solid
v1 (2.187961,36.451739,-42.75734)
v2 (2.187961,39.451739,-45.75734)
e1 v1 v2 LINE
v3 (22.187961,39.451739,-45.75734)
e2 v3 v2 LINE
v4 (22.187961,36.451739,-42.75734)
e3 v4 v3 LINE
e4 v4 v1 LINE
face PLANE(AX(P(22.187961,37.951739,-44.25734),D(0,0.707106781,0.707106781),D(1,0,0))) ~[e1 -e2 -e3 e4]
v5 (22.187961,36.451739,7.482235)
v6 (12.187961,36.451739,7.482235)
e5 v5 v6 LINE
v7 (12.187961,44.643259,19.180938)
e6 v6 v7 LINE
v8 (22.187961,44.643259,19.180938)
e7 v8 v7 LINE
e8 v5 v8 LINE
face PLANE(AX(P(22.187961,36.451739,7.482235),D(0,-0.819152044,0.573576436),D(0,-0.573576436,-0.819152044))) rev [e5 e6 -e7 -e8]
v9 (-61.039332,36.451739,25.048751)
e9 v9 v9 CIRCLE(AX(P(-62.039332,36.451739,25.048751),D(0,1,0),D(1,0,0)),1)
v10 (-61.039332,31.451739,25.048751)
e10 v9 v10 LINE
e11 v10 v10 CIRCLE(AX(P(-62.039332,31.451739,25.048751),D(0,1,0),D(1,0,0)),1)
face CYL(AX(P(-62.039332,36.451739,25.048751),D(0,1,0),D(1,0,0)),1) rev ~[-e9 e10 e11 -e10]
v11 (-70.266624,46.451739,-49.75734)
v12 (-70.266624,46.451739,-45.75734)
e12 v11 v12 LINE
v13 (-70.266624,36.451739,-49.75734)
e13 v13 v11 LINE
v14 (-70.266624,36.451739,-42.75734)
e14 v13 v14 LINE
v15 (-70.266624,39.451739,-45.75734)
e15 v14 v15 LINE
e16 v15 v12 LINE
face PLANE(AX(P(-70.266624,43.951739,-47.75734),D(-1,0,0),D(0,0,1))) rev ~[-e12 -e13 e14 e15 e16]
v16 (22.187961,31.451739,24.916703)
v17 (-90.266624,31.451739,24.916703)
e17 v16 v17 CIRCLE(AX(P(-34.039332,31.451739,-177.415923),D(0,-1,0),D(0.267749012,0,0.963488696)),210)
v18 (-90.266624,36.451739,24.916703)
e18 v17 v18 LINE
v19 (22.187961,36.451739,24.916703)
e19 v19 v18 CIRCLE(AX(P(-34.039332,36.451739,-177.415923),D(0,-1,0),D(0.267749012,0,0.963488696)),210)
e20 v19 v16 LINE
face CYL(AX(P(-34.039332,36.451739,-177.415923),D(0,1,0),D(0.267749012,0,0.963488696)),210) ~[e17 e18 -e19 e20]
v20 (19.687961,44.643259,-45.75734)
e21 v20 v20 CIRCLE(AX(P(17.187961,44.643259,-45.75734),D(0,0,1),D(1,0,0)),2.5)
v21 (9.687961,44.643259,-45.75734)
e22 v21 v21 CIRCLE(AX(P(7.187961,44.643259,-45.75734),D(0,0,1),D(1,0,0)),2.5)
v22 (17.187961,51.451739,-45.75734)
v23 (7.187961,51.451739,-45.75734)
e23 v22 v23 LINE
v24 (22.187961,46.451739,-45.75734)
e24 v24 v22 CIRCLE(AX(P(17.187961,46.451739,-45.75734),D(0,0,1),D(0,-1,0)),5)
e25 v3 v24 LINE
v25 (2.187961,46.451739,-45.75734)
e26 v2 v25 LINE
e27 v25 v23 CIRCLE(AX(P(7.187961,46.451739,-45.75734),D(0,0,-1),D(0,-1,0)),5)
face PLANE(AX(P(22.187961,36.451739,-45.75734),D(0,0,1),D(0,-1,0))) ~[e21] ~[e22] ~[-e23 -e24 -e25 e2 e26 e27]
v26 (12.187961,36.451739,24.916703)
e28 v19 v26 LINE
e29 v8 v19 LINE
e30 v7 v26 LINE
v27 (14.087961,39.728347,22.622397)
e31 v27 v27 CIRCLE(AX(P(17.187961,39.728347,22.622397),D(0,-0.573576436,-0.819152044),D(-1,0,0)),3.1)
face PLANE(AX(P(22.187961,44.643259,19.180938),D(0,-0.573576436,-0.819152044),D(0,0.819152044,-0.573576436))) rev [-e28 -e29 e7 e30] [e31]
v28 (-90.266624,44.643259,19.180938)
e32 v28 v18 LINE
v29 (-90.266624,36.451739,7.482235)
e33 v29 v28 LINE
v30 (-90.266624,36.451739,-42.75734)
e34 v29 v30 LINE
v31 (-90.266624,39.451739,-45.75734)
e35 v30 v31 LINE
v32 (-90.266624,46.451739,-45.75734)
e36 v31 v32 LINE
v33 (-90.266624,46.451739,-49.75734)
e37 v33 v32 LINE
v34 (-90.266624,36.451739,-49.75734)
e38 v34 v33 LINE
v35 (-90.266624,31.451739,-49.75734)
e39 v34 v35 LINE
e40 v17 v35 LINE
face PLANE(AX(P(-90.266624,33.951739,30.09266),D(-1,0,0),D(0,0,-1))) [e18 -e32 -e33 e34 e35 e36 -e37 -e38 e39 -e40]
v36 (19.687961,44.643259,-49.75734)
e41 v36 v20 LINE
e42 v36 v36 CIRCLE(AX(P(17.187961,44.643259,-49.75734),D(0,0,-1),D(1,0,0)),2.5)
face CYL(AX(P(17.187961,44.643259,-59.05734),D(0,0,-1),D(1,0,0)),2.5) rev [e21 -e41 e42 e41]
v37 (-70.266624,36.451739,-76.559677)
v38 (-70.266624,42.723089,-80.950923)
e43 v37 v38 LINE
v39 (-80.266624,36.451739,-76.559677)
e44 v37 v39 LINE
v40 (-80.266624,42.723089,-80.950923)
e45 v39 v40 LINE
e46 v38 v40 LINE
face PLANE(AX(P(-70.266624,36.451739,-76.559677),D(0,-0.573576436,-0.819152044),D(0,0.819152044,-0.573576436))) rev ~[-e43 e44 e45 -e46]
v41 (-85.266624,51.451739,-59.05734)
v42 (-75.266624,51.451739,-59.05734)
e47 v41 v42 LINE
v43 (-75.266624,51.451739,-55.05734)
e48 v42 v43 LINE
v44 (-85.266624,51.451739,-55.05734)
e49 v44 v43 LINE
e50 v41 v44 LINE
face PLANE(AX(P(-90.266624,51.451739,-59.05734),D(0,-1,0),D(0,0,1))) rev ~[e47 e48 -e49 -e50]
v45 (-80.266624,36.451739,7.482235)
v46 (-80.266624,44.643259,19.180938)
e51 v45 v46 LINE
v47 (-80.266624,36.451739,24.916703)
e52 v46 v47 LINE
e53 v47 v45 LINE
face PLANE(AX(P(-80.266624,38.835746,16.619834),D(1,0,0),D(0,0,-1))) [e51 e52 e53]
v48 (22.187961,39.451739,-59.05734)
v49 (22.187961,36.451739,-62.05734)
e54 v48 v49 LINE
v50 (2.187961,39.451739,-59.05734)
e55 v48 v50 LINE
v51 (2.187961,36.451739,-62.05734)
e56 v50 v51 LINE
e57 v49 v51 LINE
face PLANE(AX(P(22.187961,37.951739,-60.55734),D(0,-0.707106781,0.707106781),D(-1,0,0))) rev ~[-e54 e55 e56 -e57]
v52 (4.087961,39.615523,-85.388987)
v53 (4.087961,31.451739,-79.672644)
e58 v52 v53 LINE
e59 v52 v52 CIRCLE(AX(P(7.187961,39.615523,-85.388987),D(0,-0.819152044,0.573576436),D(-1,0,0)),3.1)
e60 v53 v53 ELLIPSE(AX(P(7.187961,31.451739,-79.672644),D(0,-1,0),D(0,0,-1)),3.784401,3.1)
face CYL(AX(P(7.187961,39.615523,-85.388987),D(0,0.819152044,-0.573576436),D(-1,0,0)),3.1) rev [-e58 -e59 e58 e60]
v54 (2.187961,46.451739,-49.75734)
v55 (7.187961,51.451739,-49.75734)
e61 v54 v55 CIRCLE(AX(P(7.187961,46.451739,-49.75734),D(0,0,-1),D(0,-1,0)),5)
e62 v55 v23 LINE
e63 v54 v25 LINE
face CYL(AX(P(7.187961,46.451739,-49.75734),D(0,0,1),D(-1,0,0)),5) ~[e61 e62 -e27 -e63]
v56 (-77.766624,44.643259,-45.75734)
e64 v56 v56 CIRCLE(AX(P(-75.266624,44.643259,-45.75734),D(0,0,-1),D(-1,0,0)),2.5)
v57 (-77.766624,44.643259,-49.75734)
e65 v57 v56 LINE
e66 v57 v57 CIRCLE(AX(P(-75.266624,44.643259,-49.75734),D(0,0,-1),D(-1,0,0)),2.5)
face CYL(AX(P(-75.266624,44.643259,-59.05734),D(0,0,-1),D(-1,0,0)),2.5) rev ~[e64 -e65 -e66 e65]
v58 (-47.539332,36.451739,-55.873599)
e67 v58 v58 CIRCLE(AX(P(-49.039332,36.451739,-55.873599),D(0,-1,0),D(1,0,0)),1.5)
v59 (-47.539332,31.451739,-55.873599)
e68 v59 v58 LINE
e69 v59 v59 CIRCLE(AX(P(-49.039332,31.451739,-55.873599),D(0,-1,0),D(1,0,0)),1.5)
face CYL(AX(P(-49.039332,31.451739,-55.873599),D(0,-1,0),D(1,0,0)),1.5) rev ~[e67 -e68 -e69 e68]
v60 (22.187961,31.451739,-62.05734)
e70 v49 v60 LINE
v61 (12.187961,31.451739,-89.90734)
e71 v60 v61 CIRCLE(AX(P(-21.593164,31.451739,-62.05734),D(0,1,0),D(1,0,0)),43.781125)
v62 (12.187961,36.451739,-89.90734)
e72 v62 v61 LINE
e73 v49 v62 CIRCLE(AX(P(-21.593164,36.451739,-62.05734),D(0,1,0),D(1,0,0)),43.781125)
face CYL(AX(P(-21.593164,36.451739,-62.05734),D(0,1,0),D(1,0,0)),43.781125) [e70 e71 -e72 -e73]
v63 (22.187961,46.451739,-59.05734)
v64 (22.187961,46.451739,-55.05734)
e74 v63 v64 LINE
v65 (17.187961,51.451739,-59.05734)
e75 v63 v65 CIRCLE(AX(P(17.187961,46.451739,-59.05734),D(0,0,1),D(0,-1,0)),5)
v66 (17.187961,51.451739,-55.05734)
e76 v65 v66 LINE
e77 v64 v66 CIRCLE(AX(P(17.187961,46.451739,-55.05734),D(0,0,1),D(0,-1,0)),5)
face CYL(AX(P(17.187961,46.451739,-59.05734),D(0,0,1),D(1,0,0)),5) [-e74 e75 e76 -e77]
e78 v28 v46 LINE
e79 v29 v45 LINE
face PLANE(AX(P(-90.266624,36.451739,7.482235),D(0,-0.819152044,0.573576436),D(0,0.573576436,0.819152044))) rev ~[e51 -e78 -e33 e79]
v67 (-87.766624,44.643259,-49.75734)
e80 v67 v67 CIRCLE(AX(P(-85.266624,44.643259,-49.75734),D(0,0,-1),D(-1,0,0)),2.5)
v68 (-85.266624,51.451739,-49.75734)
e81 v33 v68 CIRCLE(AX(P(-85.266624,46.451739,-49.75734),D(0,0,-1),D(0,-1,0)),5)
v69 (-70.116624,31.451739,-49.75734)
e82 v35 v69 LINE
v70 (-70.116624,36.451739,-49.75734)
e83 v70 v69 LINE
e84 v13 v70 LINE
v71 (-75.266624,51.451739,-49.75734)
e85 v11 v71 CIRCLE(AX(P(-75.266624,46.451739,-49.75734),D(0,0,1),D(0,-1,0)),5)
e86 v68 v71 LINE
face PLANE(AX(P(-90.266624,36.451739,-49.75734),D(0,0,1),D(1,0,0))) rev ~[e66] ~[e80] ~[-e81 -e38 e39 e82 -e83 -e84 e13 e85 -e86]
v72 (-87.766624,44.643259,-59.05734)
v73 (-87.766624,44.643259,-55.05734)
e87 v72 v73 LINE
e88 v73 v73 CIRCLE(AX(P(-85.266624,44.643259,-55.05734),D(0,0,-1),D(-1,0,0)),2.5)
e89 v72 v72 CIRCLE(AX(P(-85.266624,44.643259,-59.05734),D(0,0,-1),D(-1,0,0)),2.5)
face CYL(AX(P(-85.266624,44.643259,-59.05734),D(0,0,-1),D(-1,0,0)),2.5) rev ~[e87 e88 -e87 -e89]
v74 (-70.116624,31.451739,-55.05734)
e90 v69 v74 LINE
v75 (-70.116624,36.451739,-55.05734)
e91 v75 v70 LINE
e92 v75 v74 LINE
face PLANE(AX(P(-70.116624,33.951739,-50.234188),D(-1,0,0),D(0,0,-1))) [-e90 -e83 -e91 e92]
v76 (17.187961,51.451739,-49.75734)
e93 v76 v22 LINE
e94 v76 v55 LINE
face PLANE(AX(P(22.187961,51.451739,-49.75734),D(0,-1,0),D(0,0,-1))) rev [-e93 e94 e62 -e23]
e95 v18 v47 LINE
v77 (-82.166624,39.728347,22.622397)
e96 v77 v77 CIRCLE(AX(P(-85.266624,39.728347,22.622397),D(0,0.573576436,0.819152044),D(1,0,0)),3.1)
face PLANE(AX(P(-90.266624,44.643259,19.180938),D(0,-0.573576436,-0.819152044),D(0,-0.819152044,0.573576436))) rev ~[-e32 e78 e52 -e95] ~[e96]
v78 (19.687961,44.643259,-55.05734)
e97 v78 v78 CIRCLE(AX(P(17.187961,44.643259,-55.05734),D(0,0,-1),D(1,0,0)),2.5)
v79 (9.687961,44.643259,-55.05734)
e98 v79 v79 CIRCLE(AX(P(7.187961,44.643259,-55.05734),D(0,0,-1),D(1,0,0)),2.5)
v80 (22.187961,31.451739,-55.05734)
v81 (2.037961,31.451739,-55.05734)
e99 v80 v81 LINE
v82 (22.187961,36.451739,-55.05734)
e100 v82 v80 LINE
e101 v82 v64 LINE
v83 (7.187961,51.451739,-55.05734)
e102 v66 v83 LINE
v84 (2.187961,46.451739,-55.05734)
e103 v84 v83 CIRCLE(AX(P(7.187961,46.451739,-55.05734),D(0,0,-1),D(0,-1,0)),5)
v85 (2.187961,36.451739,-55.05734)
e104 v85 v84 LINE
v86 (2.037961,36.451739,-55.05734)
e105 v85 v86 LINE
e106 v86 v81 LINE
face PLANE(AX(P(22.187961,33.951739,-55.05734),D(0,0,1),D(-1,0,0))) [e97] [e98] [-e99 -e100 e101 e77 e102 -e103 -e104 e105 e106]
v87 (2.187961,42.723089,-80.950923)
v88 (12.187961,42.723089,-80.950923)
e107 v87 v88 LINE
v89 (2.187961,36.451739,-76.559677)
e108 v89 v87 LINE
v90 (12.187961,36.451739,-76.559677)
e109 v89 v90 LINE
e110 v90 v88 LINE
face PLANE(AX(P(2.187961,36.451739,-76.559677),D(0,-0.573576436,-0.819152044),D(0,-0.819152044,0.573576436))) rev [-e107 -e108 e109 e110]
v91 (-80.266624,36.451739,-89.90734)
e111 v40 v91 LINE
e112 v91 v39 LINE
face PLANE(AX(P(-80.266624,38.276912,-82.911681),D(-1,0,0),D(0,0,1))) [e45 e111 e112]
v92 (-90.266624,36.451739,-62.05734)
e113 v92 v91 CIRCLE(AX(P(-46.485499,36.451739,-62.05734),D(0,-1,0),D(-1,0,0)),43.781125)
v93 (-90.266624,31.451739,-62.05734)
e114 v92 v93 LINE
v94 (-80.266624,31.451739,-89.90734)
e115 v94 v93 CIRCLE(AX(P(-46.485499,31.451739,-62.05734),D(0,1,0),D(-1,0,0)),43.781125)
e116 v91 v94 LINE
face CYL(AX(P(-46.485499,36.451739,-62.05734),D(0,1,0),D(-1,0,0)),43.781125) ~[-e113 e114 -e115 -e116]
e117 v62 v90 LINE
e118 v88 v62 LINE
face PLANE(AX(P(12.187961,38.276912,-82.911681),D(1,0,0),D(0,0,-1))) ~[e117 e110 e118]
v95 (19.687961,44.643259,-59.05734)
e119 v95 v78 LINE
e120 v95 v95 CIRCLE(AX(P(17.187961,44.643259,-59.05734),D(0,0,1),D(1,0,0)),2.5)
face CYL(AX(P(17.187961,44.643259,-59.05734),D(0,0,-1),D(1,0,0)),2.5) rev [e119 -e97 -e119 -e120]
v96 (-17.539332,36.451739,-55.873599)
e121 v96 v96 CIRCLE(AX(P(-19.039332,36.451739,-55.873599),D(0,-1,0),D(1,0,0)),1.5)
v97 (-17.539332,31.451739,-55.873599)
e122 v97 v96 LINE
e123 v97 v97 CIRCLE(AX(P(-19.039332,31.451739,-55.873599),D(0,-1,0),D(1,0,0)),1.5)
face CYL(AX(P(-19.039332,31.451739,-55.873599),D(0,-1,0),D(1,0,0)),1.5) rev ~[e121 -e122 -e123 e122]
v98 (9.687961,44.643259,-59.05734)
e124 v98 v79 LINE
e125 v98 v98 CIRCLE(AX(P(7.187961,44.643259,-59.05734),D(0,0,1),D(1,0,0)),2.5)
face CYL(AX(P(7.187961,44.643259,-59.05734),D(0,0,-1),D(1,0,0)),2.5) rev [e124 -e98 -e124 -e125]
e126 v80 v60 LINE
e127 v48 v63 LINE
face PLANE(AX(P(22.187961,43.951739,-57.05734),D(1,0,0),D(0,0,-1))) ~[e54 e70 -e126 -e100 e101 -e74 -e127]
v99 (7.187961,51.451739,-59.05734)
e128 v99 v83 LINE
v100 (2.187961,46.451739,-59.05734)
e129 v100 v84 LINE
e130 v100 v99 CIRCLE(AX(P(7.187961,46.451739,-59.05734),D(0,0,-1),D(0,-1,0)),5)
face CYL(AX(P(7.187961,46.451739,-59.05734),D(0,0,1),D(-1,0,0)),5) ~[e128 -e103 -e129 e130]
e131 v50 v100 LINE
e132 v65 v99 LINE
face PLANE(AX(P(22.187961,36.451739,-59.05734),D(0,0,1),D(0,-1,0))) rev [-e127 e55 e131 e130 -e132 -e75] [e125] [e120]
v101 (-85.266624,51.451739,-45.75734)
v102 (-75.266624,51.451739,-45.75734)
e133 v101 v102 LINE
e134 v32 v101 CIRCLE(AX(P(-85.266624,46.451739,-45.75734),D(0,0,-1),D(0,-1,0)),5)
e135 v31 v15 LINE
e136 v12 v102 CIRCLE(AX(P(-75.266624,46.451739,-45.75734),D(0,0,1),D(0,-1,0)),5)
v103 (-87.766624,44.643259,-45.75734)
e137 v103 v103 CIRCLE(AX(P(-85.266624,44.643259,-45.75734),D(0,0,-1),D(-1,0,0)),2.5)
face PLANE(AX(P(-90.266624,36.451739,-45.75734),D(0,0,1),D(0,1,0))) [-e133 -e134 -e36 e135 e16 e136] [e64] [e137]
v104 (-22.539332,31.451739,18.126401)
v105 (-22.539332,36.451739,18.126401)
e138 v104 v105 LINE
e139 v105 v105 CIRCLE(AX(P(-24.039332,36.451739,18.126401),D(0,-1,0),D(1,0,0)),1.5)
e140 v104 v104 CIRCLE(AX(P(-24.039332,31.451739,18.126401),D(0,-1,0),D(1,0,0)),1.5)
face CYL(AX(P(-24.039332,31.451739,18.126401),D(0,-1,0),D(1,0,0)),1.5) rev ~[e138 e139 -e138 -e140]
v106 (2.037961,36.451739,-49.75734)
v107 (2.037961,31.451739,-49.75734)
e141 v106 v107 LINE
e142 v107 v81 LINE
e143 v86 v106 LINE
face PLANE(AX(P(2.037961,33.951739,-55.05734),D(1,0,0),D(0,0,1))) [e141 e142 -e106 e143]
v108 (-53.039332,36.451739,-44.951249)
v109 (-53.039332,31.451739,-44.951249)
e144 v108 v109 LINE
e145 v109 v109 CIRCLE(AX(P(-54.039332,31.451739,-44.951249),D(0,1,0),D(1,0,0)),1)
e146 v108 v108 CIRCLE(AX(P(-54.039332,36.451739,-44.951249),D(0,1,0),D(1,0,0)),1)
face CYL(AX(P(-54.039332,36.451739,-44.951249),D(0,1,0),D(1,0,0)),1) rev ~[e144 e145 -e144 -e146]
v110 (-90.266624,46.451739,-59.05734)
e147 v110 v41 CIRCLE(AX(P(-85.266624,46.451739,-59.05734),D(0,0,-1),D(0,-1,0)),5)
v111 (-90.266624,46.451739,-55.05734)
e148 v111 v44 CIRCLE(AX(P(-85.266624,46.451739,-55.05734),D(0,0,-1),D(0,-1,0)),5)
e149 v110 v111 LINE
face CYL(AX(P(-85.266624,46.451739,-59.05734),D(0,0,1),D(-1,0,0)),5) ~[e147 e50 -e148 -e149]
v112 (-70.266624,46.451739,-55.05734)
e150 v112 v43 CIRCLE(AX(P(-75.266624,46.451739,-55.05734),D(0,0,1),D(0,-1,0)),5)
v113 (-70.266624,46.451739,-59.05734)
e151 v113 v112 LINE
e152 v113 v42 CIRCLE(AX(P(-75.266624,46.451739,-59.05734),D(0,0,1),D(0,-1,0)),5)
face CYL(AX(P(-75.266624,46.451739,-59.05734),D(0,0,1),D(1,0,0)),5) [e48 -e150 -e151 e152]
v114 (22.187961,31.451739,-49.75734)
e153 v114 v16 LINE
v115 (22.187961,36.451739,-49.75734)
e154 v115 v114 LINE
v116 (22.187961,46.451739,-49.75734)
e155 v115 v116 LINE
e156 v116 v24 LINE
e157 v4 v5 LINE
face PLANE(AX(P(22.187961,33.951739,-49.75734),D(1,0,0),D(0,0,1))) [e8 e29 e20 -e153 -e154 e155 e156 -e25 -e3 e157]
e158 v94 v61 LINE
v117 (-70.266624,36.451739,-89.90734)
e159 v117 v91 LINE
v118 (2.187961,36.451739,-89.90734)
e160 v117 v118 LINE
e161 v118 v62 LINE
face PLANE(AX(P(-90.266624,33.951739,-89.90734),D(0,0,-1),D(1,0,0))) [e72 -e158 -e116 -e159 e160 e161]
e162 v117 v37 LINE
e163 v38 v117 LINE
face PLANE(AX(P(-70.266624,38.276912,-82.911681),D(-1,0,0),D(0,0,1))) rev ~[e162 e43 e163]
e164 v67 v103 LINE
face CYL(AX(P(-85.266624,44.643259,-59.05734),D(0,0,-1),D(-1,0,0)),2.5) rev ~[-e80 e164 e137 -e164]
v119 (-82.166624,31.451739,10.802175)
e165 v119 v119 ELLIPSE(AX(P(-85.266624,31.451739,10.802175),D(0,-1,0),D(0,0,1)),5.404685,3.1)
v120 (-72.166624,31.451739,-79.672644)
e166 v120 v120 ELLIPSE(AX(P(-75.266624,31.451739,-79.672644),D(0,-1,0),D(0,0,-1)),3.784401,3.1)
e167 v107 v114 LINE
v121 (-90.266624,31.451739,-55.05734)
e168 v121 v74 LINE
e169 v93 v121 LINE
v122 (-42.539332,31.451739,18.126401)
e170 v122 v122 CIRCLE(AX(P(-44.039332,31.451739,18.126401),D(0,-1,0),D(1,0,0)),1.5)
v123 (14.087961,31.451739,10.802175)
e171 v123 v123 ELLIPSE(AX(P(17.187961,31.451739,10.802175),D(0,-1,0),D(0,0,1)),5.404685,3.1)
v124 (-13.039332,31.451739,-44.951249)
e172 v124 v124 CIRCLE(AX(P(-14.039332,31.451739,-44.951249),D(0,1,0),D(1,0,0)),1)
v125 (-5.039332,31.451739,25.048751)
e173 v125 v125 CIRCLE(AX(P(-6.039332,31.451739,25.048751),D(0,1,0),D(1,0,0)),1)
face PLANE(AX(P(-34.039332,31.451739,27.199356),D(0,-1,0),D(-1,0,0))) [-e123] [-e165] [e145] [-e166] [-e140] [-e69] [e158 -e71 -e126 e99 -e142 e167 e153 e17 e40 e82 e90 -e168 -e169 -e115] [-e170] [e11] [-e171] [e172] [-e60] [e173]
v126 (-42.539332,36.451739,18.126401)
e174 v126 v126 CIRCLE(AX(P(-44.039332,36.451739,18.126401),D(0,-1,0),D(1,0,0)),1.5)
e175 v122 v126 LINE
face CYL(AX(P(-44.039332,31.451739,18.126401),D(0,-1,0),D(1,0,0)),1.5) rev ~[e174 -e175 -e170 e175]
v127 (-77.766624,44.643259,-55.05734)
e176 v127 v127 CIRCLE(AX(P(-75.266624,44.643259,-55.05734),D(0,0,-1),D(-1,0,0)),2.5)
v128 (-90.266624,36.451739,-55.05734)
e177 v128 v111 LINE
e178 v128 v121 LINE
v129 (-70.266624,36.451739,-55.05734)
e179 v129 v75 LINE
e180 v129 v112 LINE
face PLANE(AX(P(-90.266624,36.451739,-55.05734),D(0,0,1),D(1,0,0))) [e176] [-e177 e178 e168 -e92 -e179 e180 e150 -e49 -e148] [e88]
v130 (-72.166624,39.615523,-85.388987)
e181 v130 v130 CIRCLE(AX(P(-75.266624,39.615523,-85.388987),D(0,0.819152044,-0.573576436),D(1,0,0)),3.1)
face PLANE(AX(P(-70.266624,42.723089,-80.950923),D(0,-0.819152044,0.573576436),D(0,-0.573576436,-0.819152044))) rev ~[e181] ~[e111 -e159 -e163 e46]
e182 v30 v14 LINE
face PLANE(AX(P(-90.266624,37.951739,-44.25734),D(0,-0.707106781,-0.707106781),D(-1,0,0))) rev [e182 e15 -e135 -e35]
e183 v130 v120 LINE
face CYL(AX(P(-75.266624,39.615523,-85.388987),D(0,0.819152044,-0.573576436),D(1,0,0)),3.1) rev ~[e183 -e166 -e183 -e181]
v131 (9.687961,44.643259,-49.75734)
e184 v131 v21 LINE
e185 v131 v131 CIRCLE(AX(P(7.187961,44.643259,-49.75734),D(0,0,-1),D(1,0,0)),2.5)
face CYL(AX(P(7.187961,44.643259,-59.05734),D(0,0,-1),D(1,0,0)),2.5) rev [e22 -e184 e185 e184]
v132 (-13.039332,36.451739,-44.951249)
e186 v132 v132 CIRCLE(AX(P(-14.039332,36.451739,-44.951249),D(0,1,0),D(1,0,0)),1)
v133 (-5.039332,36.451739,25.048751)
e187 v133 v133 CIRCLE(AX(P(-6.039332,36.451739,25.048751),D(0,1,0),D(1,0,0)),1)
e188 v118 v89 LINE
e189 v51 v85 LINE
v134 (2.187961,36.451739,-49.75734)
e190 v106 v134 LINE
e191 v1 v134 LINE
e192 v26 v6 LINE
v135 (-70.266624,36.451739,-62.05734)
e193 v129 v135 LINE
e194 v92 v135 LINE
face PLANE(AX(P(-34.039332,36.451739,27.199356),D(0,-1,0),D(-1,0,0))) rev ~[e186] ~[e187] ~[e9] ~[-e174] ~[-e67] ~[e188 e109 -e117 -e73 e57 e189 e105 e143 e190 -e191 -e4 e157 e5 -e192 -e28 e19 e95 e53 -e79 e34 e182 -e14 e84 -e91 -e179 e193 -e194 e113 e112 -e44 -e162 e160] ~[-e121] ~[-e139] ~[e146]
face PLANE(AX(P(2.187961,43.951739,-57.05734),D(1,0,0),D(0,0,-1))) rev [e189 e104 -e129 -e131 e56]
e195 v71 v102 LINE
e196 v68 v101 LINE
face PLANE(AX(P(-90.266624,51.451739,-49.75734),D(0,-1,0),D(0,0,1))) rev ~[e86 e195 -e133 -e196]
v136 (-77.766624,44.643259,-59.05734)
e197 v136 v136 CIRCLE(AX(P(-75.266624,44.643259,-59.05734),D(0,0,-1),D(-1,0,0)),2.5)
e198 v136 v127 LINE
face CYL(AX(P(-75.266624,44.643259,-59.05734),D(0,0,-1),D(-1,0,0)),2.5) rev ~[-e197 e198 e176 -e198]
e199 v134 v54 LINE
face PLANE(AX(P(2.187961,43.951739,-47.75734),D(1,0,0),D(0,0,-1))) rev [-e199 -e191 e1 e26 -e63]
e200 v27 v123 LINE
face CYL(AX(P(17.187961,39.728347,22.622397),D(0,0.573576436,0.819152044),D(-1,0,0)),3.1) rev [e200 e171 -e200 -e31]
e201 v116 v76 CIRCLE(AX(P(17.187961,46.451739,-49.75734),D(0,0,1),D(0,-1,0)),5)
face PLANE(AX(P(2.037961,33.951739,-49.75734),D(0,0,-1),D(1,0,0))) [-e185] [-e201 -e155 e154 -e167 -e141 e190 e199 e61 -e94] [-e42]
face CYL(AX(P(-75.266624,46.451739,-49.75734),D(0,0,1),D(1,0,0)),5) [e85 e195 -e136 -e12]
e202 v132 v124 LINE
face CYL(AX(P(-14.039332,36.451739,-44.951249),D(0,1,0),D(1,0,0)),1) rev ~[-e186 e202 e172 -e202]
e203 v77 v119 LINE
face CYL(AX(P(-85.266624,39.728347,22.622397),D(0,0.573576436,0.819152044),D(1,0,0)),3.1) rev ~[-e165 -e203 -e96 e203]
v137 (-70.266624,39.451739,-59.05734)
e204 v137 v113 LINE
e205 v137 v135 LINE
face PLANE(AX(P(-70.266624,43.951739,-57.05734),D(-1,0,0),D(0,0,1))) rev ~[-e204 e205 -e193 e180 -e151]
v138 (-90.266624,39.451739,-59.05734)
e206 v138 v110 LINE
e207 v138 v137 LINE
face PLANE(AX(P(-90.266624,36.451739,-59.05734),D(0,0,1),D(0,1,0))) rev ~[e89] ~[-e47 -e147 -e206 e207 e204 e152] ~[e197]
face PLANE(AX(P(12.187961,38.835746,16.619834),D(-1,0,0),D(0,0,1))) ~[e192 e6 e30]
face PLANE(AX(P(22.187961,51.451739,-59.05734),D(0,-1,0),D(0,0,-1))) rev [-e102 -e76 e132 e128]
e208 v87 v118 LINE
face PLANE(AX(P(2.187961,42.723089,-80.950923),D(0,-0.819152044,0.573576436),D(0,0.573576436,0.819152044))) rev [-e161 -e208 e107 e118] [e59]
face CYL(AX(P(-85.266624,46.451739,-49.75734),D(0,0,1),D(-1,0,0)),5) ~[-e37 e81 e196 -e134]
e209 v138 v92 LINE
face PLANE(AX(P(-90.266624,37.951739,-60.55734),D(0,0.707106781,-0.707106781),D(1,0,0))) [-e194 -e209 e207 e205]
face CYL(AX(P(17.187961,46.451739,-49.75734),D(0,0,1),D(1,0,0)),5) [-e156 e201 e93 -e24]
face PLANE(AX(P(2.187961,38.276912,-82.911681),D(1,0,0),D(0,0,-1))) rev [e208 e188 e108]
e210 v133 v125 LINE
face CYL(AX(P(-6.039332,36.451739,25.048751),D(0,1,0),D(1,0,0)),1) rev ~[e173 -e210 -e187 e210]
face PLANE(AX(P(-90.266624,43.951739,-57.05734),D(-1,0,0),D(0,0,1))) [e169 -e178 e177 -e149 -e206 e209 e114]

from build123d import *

# Parameters (mm, degrees)
BOSS_EXTRUDE1_DEPTH      = 2.5
BOSS_EXTRUDE2_DEPTH      = 10
SKETCH3_R                = 3.1
CUT_EXTRUDE1_DEPTH       = 97.926231277
BOSS_EXTRUDE3_DEPTH      = 10
SKETCH5_R                = 3.1
CUT_EXTRUDE2_DEPTH       = 73.924932584
SKETCH6_W                = 5.175957564
SKETCH6_H                = 5
CUT_EXTRUDE3_DEPTH       = 113.454585159
SKETCH7_W                = 20.15
SKETCH7_H                = 0.476848187
BOSS_EXTRUDE4_DEPTH      = 5
SKETCH7_3_W              = 20.15
SKETCH7_3_H              = 0.476848187
CUT_EXTRUDE4_DEPTH       = 5
SKETCH8_W                = 4
SKETCH8_H                = 15
BOSS_EXTRUDE5_DEPTH      = 20
SKETCH9_R                = 2.5
CUT_EXTRUDE5_DEPTH       = 13.3
FILLET1_R                = 5
CHAMFER1_SIZE            = 3
FILLET1_OF_MIRROR2_R     = 5
CHAMFER1_OF_MIRROR2_SIZE = 3
BOSS_EXTRUDE6_DEPTH      = 5
SKETCH11_R               = 1
CUT_EXTRUDE6_DEPTH       = 6
SKETCH12_R               = 1.5
CUT_EXTRUDE7_DEPTH       = 21
CUT_EXTRUDE8_DEPTH       = 6


with BuildPart() as part:
    # Sketch1 → Boss-Extrude1 (new body, symmetric)
    with BuildSketch(Plane(origin=(-32.81203924, 33.9517387, -54.90733973), x_dir=(-1, 0, 0), z_dir=(0, -1, 0))):
        Polygon((57.454585159, 35), (-55, 35), (-55, 0.15), (-34.85, 0.15), (-34.85, -5.15), (-55, -5.15), (-55, -85), (57.454585159, -85), (57.454585159, -4.673151813), (37.304585159, -4.673151813), (37.304585159, 0.626848187), (57.454585159, 0.626848187), align=None)
    extrude(amount=BOSS_EXTRUDE1_DEPTH, both=True)

    # Sketch2 → Boss-Extrude2 (add)
    with BuildSketch(Plane.ZY.offset(90.266624399)):
        Polygon((7.48223475, 36.4517387), (19.180938343, 44.643259143), (24.916702706, 36.4517387), align=None)
    boss_extrude2 = extrude(amount=-BOSS_EXTRUDE2_DEPTH)

    # Sketch3 → Cut-Extrude1 (cut, through all)
    with BuildSketch(Plane(origin=(0, 23.699275736, 33.846073404), x_dir=(1, 0, 0), z_dir=(0, 0.573576436, 0.819152044))):
        with Locations((-85.266624399, 19.56788273)):
            Circle(SKETCH3_R)
    cut_extrude1 = extrude(amount=-CUT_EXTRUDE1_DEPTH, mode=Mode.SUBTRACT)

    # Sketch4 → Boss-Extrude3 (add)
    with BuildSketch(Plane(origin=(-70.266624399, 0, 0), x_dir=(0, 0, -1), z_dir=(1, 0, 0))):
        Polygon((76.559676692, 36.4517387), (80.950923398, 42.723088931), (89.90733973, 36.4517387), align=None)
    boss_extrude3 = extrude(amount=-BOSS_EXTRUDE3_DEPTH)

    # Sketch5 → Cut-Extrude2 (cut, through all)
    with BuildSketch(Plane(origin=(0, 66.702115647, -46.70532419), x_dir=(1, 0, 0), z_dir=(0, 0.819152044, -0.573576436))):
        with Locations((-75.266624399, 47.224033141)):
            Circle(SKETCH5_R)
    cut_extrude2 = extrude(amount=-CUT_EXTRUDE2_DEPTH, mode=Mode.SUBTRACT)

    # Mirror1: Boss-Extrude2, Cut-Extrude1, Boss-Extrude3, Cut-Extrude2 across plane
    add(boss_extrude2.mirror(Plane.ZY.offset(34.03933182)))
    add(cut_extrude1.mirror(Plane.ZY.offset(34.03933182)), mode=Mode.SUBTRACT)
    add(boss_extrude3.mirror(Plane.ZY.offset(34.03933182)))
    add(cut_extrude2.mirror(Plane.ZY.offset(34.03933182)), mode=Mode.SUBTRACT)

    # Sketch6 → Cut-Extrude3 (cut, through all)
    with BuildSketch(Plane.ZY.offset(90.266624399)):
        with Locations((27.504681488, 33.9517387)):
            Rectangle(SKETCH6_W, SKETCH6_H)
    extrude(amount=-CUT_EXTRUDE3_DEPTH, mode=Mode.SUBTRACT)

    # Sketch7 → Boss-Extrude4 (add)
    with BuildSketch(Plane(origin=(0, 36.4517387, 0), x_dir=(1, 0, 0), z_dir=(0, 1, 0))):
        with Locations((-80.191624399, 55.295763824)):
            Rectangle(SKETCH7_W, SKETCH7_H)
    boss_extrude4 = extrude(amount=-BOSS_EXTRUDE4_DEPTH)

    # Sketch7<3> → Cut-Extrude4 (cut)
    with BuildSketch(Plane(origin=(0, 36.4517387, 0), x_dir=(1, 0, 0), z_dir=(0, 1, 0))):
        with Locations((-80.191624399, 49.995763823)):
            Rectangle(SKETCH7_3_W, SKETCH7_3_H)
    cut_extrude4 = extrude(amount=-CUT_EXTRUDE4_DEPTH, mode=Mode.SUBTRACT)

    # Sketch8 → Boss-Extrude5 (add)
    with BuildSketch(Plane.ZY.offset(90.266624399)):
        with Locations((-57.05733973, 43.9517387)):
            Rectangle(SKETCH8_W, SKETCH8_H)
        with Locations((-47.75733973, 43.9517387)):
            Rectangle(SKETCH8_W, SKETCH8_H)
    boss_extrude5 = extrude(amount=-BOSS_EXTRUDE5_DEPTH)

    # Sketch9 → Cut-Extrude5 (cut)
    with BuildSketch(Plane(origin=(0, 0, -59.05733973), x_dir=(-1, 0, 0), z_dir=(0, 0, -1))):
        with Locations((75.266624399, 44.643259143)):
            Circle(SKETCH9_R)
        with Locations((85.266624399, 44.643259143)):
            Circle(SKETCH9_R)
    cut_extrude5 = extrude(amount=-CUT_EXTRUDE5_DEPTH, mode=Mode.SUBTRACT)

    # Fillet1
    fillet1_edges = [part.edges().sort_by_distance(p)[0] for p in [
        (-70.266624399, 51.4517387, -57.05733973),
        (-90.266624399, 51.4517387, -57.05733973),
        (-70.266624399, 51.4517387, -47.75733973),
        (-90.266624399, 51.4517387, -47.75733973),
    ]]
    fillet(fillet1_edges, radius=FILLET1_R)

    # Chamfer1
    chamfer1_edges = [part.edges().sort_by_distance(p)[0] for p in [
        (-80.266624399, 36.4517387, -59.05733973),
        (-80.266624399, 36.4517387, -45.75733973),
    ]]
    chamfer(chamfer1_edges, length=CHAMFER1_SIZE)

    # Mirror2: Boss-Extrude4, Cut-Extrude4, Boss-Extrude5, Cut-Extrude5 across plane
    add(boss_extrude4.mirror(Plane.ZY.offset(34.03933182)))
    add(cut_extrude4.mirror(Plane.ZY.offset(34.03933182)), mode=Mode.SUBTRACT)
    add(boss_extrude5.mirror(Plane.ZY.offset(34.03933182)))
    add(cut_extrude5.mirror(Plane.ZY.offset(34.03933182)), mode=Mode.SUBTRACT)

    # Fillet1 of Mirror2
    fillet1_of_mirror2_edges = [part.edges().sort_by_distance(p)[0] for p in [
        (2.18796076, 51.4517387, -57.05733973),
        (22.18796076, 51.4517387, -57.05733973),
        (2.18796076, 51.4517387, -47.75733973),
        (22.18796076, 51.4517387, -47.75733973),
    ]]
    fillet(fillet1_of_mirror2_edges, radius=FILLET1_OF_MIRROR2_R)

    # Chamfer1 of Mirror2
    chamfer1_of_mirror2_edges = [part.edges().sort_by_distance(p)[0] for p in [
        (12.18796076, 36.4517387, -59.05733973),
        (12.18796076, 36.4517387, -45.75733973),
    ]]
    chamfer(chamfer1_of_mirror2_edges, length=CHAMFER1_OF_MIRROR2_SIZE)

    # Sketch10 → Boss-Extrude6 (add)
    with BuildSketch(Plane(origin=(0, 36.4517387, 0), x_dir=(1, 0, 0), z_dir=(0, 1, 0))):
        with BuildLine():
            Line((-90.266624399, -24.916702706), (22.18796076, -24.916702706))
            ThreePointArc((22.18796076, -24.916702706), (-34.03933182, -32.584076644), (-90.266624399, -24.916702706))
        make_face()
    extrude(amount=-BOSS_EXTRUDE6_DEPTH)

    # Sketch11 → Cut-Extrude6 (cut, through all)
    with BuildSketch(Plane(origin=(0, 36.4517387, 0), x_dir=(1, 0, 0), z_dir=(0, 1, 0))):
        with Locations((-54.03933182, 44.951248934)):
            Circle(SKETCH11_R)
        with Locations((-14.03933182, 44.951248934)):
            Circle(SKETCH11_R)
        with Locations((-6.03933182, -25.048751066)):
            Circle(SKETCH11_R)
        with Locations((-62.03933182, -25.048751066)):
            Circle(SKETCH11_R)
    extrude(amount=-CUT_EXTRUDE6_DEPTH, mode=Mode.SUBTRACT)

    # Sketch12 → Cut-Extrude7 (cut, through all)
    with BuildSketch(Plane.XZ.offset(-31.4517387)):
        with Locations((-19.03933182, -55.87359945)):
            Circle(SKETCH12_R)
        with Locations((-24.03933182, 18.12640055)):
            Circle(SKETCH12_R)
        with Locations((-49.03933182, -55.87359945)):
            Circle(SKETCH12_R)
        with Locations((-44.03933182, 18.12640055)):
            Circle(SKETCH12_R)
    extrude(amount=-CUT_EXTRUDE7_DEPTH, mode=Mode.SUBTRACT)

    # Sketch13 → Cut-Extrude8 (cut, through all)
    with BuildSketch(Plane(origin=(0, 36.4517387, 0), x_dir=(1, 0, 0), z_dir=(0, 1, 0))):
        with BuildLine():
            ThreePointArc((-90.266624399, 62.05733973), (-87.690854406, 76.852799337), (-80.266624399, 89.90733973))
            Line((-80.266624399, 89.90733973), (-90.266624399, 89.90733973))
            Line((-90.266624399, 89.90733973), (-90.266624399, 62.05733973))
        make_face()
        with BuildLine():
            ThreePointArc((22.18796076, 62.05733973), (19.612190767, 76.852799337), (12.18796076, 89.90733973))
            Line((12.18796076, 89.90733973), (22.18796076, 89.90733973))
            Line((22.18796076, 89.90733973), (22.18796076, 62.05733973))
        make_face()
    extrude(amount=-CUT_EXTRUDE8_DEPTH, mode=Mode.SUBTRACT)


solid = part.part
